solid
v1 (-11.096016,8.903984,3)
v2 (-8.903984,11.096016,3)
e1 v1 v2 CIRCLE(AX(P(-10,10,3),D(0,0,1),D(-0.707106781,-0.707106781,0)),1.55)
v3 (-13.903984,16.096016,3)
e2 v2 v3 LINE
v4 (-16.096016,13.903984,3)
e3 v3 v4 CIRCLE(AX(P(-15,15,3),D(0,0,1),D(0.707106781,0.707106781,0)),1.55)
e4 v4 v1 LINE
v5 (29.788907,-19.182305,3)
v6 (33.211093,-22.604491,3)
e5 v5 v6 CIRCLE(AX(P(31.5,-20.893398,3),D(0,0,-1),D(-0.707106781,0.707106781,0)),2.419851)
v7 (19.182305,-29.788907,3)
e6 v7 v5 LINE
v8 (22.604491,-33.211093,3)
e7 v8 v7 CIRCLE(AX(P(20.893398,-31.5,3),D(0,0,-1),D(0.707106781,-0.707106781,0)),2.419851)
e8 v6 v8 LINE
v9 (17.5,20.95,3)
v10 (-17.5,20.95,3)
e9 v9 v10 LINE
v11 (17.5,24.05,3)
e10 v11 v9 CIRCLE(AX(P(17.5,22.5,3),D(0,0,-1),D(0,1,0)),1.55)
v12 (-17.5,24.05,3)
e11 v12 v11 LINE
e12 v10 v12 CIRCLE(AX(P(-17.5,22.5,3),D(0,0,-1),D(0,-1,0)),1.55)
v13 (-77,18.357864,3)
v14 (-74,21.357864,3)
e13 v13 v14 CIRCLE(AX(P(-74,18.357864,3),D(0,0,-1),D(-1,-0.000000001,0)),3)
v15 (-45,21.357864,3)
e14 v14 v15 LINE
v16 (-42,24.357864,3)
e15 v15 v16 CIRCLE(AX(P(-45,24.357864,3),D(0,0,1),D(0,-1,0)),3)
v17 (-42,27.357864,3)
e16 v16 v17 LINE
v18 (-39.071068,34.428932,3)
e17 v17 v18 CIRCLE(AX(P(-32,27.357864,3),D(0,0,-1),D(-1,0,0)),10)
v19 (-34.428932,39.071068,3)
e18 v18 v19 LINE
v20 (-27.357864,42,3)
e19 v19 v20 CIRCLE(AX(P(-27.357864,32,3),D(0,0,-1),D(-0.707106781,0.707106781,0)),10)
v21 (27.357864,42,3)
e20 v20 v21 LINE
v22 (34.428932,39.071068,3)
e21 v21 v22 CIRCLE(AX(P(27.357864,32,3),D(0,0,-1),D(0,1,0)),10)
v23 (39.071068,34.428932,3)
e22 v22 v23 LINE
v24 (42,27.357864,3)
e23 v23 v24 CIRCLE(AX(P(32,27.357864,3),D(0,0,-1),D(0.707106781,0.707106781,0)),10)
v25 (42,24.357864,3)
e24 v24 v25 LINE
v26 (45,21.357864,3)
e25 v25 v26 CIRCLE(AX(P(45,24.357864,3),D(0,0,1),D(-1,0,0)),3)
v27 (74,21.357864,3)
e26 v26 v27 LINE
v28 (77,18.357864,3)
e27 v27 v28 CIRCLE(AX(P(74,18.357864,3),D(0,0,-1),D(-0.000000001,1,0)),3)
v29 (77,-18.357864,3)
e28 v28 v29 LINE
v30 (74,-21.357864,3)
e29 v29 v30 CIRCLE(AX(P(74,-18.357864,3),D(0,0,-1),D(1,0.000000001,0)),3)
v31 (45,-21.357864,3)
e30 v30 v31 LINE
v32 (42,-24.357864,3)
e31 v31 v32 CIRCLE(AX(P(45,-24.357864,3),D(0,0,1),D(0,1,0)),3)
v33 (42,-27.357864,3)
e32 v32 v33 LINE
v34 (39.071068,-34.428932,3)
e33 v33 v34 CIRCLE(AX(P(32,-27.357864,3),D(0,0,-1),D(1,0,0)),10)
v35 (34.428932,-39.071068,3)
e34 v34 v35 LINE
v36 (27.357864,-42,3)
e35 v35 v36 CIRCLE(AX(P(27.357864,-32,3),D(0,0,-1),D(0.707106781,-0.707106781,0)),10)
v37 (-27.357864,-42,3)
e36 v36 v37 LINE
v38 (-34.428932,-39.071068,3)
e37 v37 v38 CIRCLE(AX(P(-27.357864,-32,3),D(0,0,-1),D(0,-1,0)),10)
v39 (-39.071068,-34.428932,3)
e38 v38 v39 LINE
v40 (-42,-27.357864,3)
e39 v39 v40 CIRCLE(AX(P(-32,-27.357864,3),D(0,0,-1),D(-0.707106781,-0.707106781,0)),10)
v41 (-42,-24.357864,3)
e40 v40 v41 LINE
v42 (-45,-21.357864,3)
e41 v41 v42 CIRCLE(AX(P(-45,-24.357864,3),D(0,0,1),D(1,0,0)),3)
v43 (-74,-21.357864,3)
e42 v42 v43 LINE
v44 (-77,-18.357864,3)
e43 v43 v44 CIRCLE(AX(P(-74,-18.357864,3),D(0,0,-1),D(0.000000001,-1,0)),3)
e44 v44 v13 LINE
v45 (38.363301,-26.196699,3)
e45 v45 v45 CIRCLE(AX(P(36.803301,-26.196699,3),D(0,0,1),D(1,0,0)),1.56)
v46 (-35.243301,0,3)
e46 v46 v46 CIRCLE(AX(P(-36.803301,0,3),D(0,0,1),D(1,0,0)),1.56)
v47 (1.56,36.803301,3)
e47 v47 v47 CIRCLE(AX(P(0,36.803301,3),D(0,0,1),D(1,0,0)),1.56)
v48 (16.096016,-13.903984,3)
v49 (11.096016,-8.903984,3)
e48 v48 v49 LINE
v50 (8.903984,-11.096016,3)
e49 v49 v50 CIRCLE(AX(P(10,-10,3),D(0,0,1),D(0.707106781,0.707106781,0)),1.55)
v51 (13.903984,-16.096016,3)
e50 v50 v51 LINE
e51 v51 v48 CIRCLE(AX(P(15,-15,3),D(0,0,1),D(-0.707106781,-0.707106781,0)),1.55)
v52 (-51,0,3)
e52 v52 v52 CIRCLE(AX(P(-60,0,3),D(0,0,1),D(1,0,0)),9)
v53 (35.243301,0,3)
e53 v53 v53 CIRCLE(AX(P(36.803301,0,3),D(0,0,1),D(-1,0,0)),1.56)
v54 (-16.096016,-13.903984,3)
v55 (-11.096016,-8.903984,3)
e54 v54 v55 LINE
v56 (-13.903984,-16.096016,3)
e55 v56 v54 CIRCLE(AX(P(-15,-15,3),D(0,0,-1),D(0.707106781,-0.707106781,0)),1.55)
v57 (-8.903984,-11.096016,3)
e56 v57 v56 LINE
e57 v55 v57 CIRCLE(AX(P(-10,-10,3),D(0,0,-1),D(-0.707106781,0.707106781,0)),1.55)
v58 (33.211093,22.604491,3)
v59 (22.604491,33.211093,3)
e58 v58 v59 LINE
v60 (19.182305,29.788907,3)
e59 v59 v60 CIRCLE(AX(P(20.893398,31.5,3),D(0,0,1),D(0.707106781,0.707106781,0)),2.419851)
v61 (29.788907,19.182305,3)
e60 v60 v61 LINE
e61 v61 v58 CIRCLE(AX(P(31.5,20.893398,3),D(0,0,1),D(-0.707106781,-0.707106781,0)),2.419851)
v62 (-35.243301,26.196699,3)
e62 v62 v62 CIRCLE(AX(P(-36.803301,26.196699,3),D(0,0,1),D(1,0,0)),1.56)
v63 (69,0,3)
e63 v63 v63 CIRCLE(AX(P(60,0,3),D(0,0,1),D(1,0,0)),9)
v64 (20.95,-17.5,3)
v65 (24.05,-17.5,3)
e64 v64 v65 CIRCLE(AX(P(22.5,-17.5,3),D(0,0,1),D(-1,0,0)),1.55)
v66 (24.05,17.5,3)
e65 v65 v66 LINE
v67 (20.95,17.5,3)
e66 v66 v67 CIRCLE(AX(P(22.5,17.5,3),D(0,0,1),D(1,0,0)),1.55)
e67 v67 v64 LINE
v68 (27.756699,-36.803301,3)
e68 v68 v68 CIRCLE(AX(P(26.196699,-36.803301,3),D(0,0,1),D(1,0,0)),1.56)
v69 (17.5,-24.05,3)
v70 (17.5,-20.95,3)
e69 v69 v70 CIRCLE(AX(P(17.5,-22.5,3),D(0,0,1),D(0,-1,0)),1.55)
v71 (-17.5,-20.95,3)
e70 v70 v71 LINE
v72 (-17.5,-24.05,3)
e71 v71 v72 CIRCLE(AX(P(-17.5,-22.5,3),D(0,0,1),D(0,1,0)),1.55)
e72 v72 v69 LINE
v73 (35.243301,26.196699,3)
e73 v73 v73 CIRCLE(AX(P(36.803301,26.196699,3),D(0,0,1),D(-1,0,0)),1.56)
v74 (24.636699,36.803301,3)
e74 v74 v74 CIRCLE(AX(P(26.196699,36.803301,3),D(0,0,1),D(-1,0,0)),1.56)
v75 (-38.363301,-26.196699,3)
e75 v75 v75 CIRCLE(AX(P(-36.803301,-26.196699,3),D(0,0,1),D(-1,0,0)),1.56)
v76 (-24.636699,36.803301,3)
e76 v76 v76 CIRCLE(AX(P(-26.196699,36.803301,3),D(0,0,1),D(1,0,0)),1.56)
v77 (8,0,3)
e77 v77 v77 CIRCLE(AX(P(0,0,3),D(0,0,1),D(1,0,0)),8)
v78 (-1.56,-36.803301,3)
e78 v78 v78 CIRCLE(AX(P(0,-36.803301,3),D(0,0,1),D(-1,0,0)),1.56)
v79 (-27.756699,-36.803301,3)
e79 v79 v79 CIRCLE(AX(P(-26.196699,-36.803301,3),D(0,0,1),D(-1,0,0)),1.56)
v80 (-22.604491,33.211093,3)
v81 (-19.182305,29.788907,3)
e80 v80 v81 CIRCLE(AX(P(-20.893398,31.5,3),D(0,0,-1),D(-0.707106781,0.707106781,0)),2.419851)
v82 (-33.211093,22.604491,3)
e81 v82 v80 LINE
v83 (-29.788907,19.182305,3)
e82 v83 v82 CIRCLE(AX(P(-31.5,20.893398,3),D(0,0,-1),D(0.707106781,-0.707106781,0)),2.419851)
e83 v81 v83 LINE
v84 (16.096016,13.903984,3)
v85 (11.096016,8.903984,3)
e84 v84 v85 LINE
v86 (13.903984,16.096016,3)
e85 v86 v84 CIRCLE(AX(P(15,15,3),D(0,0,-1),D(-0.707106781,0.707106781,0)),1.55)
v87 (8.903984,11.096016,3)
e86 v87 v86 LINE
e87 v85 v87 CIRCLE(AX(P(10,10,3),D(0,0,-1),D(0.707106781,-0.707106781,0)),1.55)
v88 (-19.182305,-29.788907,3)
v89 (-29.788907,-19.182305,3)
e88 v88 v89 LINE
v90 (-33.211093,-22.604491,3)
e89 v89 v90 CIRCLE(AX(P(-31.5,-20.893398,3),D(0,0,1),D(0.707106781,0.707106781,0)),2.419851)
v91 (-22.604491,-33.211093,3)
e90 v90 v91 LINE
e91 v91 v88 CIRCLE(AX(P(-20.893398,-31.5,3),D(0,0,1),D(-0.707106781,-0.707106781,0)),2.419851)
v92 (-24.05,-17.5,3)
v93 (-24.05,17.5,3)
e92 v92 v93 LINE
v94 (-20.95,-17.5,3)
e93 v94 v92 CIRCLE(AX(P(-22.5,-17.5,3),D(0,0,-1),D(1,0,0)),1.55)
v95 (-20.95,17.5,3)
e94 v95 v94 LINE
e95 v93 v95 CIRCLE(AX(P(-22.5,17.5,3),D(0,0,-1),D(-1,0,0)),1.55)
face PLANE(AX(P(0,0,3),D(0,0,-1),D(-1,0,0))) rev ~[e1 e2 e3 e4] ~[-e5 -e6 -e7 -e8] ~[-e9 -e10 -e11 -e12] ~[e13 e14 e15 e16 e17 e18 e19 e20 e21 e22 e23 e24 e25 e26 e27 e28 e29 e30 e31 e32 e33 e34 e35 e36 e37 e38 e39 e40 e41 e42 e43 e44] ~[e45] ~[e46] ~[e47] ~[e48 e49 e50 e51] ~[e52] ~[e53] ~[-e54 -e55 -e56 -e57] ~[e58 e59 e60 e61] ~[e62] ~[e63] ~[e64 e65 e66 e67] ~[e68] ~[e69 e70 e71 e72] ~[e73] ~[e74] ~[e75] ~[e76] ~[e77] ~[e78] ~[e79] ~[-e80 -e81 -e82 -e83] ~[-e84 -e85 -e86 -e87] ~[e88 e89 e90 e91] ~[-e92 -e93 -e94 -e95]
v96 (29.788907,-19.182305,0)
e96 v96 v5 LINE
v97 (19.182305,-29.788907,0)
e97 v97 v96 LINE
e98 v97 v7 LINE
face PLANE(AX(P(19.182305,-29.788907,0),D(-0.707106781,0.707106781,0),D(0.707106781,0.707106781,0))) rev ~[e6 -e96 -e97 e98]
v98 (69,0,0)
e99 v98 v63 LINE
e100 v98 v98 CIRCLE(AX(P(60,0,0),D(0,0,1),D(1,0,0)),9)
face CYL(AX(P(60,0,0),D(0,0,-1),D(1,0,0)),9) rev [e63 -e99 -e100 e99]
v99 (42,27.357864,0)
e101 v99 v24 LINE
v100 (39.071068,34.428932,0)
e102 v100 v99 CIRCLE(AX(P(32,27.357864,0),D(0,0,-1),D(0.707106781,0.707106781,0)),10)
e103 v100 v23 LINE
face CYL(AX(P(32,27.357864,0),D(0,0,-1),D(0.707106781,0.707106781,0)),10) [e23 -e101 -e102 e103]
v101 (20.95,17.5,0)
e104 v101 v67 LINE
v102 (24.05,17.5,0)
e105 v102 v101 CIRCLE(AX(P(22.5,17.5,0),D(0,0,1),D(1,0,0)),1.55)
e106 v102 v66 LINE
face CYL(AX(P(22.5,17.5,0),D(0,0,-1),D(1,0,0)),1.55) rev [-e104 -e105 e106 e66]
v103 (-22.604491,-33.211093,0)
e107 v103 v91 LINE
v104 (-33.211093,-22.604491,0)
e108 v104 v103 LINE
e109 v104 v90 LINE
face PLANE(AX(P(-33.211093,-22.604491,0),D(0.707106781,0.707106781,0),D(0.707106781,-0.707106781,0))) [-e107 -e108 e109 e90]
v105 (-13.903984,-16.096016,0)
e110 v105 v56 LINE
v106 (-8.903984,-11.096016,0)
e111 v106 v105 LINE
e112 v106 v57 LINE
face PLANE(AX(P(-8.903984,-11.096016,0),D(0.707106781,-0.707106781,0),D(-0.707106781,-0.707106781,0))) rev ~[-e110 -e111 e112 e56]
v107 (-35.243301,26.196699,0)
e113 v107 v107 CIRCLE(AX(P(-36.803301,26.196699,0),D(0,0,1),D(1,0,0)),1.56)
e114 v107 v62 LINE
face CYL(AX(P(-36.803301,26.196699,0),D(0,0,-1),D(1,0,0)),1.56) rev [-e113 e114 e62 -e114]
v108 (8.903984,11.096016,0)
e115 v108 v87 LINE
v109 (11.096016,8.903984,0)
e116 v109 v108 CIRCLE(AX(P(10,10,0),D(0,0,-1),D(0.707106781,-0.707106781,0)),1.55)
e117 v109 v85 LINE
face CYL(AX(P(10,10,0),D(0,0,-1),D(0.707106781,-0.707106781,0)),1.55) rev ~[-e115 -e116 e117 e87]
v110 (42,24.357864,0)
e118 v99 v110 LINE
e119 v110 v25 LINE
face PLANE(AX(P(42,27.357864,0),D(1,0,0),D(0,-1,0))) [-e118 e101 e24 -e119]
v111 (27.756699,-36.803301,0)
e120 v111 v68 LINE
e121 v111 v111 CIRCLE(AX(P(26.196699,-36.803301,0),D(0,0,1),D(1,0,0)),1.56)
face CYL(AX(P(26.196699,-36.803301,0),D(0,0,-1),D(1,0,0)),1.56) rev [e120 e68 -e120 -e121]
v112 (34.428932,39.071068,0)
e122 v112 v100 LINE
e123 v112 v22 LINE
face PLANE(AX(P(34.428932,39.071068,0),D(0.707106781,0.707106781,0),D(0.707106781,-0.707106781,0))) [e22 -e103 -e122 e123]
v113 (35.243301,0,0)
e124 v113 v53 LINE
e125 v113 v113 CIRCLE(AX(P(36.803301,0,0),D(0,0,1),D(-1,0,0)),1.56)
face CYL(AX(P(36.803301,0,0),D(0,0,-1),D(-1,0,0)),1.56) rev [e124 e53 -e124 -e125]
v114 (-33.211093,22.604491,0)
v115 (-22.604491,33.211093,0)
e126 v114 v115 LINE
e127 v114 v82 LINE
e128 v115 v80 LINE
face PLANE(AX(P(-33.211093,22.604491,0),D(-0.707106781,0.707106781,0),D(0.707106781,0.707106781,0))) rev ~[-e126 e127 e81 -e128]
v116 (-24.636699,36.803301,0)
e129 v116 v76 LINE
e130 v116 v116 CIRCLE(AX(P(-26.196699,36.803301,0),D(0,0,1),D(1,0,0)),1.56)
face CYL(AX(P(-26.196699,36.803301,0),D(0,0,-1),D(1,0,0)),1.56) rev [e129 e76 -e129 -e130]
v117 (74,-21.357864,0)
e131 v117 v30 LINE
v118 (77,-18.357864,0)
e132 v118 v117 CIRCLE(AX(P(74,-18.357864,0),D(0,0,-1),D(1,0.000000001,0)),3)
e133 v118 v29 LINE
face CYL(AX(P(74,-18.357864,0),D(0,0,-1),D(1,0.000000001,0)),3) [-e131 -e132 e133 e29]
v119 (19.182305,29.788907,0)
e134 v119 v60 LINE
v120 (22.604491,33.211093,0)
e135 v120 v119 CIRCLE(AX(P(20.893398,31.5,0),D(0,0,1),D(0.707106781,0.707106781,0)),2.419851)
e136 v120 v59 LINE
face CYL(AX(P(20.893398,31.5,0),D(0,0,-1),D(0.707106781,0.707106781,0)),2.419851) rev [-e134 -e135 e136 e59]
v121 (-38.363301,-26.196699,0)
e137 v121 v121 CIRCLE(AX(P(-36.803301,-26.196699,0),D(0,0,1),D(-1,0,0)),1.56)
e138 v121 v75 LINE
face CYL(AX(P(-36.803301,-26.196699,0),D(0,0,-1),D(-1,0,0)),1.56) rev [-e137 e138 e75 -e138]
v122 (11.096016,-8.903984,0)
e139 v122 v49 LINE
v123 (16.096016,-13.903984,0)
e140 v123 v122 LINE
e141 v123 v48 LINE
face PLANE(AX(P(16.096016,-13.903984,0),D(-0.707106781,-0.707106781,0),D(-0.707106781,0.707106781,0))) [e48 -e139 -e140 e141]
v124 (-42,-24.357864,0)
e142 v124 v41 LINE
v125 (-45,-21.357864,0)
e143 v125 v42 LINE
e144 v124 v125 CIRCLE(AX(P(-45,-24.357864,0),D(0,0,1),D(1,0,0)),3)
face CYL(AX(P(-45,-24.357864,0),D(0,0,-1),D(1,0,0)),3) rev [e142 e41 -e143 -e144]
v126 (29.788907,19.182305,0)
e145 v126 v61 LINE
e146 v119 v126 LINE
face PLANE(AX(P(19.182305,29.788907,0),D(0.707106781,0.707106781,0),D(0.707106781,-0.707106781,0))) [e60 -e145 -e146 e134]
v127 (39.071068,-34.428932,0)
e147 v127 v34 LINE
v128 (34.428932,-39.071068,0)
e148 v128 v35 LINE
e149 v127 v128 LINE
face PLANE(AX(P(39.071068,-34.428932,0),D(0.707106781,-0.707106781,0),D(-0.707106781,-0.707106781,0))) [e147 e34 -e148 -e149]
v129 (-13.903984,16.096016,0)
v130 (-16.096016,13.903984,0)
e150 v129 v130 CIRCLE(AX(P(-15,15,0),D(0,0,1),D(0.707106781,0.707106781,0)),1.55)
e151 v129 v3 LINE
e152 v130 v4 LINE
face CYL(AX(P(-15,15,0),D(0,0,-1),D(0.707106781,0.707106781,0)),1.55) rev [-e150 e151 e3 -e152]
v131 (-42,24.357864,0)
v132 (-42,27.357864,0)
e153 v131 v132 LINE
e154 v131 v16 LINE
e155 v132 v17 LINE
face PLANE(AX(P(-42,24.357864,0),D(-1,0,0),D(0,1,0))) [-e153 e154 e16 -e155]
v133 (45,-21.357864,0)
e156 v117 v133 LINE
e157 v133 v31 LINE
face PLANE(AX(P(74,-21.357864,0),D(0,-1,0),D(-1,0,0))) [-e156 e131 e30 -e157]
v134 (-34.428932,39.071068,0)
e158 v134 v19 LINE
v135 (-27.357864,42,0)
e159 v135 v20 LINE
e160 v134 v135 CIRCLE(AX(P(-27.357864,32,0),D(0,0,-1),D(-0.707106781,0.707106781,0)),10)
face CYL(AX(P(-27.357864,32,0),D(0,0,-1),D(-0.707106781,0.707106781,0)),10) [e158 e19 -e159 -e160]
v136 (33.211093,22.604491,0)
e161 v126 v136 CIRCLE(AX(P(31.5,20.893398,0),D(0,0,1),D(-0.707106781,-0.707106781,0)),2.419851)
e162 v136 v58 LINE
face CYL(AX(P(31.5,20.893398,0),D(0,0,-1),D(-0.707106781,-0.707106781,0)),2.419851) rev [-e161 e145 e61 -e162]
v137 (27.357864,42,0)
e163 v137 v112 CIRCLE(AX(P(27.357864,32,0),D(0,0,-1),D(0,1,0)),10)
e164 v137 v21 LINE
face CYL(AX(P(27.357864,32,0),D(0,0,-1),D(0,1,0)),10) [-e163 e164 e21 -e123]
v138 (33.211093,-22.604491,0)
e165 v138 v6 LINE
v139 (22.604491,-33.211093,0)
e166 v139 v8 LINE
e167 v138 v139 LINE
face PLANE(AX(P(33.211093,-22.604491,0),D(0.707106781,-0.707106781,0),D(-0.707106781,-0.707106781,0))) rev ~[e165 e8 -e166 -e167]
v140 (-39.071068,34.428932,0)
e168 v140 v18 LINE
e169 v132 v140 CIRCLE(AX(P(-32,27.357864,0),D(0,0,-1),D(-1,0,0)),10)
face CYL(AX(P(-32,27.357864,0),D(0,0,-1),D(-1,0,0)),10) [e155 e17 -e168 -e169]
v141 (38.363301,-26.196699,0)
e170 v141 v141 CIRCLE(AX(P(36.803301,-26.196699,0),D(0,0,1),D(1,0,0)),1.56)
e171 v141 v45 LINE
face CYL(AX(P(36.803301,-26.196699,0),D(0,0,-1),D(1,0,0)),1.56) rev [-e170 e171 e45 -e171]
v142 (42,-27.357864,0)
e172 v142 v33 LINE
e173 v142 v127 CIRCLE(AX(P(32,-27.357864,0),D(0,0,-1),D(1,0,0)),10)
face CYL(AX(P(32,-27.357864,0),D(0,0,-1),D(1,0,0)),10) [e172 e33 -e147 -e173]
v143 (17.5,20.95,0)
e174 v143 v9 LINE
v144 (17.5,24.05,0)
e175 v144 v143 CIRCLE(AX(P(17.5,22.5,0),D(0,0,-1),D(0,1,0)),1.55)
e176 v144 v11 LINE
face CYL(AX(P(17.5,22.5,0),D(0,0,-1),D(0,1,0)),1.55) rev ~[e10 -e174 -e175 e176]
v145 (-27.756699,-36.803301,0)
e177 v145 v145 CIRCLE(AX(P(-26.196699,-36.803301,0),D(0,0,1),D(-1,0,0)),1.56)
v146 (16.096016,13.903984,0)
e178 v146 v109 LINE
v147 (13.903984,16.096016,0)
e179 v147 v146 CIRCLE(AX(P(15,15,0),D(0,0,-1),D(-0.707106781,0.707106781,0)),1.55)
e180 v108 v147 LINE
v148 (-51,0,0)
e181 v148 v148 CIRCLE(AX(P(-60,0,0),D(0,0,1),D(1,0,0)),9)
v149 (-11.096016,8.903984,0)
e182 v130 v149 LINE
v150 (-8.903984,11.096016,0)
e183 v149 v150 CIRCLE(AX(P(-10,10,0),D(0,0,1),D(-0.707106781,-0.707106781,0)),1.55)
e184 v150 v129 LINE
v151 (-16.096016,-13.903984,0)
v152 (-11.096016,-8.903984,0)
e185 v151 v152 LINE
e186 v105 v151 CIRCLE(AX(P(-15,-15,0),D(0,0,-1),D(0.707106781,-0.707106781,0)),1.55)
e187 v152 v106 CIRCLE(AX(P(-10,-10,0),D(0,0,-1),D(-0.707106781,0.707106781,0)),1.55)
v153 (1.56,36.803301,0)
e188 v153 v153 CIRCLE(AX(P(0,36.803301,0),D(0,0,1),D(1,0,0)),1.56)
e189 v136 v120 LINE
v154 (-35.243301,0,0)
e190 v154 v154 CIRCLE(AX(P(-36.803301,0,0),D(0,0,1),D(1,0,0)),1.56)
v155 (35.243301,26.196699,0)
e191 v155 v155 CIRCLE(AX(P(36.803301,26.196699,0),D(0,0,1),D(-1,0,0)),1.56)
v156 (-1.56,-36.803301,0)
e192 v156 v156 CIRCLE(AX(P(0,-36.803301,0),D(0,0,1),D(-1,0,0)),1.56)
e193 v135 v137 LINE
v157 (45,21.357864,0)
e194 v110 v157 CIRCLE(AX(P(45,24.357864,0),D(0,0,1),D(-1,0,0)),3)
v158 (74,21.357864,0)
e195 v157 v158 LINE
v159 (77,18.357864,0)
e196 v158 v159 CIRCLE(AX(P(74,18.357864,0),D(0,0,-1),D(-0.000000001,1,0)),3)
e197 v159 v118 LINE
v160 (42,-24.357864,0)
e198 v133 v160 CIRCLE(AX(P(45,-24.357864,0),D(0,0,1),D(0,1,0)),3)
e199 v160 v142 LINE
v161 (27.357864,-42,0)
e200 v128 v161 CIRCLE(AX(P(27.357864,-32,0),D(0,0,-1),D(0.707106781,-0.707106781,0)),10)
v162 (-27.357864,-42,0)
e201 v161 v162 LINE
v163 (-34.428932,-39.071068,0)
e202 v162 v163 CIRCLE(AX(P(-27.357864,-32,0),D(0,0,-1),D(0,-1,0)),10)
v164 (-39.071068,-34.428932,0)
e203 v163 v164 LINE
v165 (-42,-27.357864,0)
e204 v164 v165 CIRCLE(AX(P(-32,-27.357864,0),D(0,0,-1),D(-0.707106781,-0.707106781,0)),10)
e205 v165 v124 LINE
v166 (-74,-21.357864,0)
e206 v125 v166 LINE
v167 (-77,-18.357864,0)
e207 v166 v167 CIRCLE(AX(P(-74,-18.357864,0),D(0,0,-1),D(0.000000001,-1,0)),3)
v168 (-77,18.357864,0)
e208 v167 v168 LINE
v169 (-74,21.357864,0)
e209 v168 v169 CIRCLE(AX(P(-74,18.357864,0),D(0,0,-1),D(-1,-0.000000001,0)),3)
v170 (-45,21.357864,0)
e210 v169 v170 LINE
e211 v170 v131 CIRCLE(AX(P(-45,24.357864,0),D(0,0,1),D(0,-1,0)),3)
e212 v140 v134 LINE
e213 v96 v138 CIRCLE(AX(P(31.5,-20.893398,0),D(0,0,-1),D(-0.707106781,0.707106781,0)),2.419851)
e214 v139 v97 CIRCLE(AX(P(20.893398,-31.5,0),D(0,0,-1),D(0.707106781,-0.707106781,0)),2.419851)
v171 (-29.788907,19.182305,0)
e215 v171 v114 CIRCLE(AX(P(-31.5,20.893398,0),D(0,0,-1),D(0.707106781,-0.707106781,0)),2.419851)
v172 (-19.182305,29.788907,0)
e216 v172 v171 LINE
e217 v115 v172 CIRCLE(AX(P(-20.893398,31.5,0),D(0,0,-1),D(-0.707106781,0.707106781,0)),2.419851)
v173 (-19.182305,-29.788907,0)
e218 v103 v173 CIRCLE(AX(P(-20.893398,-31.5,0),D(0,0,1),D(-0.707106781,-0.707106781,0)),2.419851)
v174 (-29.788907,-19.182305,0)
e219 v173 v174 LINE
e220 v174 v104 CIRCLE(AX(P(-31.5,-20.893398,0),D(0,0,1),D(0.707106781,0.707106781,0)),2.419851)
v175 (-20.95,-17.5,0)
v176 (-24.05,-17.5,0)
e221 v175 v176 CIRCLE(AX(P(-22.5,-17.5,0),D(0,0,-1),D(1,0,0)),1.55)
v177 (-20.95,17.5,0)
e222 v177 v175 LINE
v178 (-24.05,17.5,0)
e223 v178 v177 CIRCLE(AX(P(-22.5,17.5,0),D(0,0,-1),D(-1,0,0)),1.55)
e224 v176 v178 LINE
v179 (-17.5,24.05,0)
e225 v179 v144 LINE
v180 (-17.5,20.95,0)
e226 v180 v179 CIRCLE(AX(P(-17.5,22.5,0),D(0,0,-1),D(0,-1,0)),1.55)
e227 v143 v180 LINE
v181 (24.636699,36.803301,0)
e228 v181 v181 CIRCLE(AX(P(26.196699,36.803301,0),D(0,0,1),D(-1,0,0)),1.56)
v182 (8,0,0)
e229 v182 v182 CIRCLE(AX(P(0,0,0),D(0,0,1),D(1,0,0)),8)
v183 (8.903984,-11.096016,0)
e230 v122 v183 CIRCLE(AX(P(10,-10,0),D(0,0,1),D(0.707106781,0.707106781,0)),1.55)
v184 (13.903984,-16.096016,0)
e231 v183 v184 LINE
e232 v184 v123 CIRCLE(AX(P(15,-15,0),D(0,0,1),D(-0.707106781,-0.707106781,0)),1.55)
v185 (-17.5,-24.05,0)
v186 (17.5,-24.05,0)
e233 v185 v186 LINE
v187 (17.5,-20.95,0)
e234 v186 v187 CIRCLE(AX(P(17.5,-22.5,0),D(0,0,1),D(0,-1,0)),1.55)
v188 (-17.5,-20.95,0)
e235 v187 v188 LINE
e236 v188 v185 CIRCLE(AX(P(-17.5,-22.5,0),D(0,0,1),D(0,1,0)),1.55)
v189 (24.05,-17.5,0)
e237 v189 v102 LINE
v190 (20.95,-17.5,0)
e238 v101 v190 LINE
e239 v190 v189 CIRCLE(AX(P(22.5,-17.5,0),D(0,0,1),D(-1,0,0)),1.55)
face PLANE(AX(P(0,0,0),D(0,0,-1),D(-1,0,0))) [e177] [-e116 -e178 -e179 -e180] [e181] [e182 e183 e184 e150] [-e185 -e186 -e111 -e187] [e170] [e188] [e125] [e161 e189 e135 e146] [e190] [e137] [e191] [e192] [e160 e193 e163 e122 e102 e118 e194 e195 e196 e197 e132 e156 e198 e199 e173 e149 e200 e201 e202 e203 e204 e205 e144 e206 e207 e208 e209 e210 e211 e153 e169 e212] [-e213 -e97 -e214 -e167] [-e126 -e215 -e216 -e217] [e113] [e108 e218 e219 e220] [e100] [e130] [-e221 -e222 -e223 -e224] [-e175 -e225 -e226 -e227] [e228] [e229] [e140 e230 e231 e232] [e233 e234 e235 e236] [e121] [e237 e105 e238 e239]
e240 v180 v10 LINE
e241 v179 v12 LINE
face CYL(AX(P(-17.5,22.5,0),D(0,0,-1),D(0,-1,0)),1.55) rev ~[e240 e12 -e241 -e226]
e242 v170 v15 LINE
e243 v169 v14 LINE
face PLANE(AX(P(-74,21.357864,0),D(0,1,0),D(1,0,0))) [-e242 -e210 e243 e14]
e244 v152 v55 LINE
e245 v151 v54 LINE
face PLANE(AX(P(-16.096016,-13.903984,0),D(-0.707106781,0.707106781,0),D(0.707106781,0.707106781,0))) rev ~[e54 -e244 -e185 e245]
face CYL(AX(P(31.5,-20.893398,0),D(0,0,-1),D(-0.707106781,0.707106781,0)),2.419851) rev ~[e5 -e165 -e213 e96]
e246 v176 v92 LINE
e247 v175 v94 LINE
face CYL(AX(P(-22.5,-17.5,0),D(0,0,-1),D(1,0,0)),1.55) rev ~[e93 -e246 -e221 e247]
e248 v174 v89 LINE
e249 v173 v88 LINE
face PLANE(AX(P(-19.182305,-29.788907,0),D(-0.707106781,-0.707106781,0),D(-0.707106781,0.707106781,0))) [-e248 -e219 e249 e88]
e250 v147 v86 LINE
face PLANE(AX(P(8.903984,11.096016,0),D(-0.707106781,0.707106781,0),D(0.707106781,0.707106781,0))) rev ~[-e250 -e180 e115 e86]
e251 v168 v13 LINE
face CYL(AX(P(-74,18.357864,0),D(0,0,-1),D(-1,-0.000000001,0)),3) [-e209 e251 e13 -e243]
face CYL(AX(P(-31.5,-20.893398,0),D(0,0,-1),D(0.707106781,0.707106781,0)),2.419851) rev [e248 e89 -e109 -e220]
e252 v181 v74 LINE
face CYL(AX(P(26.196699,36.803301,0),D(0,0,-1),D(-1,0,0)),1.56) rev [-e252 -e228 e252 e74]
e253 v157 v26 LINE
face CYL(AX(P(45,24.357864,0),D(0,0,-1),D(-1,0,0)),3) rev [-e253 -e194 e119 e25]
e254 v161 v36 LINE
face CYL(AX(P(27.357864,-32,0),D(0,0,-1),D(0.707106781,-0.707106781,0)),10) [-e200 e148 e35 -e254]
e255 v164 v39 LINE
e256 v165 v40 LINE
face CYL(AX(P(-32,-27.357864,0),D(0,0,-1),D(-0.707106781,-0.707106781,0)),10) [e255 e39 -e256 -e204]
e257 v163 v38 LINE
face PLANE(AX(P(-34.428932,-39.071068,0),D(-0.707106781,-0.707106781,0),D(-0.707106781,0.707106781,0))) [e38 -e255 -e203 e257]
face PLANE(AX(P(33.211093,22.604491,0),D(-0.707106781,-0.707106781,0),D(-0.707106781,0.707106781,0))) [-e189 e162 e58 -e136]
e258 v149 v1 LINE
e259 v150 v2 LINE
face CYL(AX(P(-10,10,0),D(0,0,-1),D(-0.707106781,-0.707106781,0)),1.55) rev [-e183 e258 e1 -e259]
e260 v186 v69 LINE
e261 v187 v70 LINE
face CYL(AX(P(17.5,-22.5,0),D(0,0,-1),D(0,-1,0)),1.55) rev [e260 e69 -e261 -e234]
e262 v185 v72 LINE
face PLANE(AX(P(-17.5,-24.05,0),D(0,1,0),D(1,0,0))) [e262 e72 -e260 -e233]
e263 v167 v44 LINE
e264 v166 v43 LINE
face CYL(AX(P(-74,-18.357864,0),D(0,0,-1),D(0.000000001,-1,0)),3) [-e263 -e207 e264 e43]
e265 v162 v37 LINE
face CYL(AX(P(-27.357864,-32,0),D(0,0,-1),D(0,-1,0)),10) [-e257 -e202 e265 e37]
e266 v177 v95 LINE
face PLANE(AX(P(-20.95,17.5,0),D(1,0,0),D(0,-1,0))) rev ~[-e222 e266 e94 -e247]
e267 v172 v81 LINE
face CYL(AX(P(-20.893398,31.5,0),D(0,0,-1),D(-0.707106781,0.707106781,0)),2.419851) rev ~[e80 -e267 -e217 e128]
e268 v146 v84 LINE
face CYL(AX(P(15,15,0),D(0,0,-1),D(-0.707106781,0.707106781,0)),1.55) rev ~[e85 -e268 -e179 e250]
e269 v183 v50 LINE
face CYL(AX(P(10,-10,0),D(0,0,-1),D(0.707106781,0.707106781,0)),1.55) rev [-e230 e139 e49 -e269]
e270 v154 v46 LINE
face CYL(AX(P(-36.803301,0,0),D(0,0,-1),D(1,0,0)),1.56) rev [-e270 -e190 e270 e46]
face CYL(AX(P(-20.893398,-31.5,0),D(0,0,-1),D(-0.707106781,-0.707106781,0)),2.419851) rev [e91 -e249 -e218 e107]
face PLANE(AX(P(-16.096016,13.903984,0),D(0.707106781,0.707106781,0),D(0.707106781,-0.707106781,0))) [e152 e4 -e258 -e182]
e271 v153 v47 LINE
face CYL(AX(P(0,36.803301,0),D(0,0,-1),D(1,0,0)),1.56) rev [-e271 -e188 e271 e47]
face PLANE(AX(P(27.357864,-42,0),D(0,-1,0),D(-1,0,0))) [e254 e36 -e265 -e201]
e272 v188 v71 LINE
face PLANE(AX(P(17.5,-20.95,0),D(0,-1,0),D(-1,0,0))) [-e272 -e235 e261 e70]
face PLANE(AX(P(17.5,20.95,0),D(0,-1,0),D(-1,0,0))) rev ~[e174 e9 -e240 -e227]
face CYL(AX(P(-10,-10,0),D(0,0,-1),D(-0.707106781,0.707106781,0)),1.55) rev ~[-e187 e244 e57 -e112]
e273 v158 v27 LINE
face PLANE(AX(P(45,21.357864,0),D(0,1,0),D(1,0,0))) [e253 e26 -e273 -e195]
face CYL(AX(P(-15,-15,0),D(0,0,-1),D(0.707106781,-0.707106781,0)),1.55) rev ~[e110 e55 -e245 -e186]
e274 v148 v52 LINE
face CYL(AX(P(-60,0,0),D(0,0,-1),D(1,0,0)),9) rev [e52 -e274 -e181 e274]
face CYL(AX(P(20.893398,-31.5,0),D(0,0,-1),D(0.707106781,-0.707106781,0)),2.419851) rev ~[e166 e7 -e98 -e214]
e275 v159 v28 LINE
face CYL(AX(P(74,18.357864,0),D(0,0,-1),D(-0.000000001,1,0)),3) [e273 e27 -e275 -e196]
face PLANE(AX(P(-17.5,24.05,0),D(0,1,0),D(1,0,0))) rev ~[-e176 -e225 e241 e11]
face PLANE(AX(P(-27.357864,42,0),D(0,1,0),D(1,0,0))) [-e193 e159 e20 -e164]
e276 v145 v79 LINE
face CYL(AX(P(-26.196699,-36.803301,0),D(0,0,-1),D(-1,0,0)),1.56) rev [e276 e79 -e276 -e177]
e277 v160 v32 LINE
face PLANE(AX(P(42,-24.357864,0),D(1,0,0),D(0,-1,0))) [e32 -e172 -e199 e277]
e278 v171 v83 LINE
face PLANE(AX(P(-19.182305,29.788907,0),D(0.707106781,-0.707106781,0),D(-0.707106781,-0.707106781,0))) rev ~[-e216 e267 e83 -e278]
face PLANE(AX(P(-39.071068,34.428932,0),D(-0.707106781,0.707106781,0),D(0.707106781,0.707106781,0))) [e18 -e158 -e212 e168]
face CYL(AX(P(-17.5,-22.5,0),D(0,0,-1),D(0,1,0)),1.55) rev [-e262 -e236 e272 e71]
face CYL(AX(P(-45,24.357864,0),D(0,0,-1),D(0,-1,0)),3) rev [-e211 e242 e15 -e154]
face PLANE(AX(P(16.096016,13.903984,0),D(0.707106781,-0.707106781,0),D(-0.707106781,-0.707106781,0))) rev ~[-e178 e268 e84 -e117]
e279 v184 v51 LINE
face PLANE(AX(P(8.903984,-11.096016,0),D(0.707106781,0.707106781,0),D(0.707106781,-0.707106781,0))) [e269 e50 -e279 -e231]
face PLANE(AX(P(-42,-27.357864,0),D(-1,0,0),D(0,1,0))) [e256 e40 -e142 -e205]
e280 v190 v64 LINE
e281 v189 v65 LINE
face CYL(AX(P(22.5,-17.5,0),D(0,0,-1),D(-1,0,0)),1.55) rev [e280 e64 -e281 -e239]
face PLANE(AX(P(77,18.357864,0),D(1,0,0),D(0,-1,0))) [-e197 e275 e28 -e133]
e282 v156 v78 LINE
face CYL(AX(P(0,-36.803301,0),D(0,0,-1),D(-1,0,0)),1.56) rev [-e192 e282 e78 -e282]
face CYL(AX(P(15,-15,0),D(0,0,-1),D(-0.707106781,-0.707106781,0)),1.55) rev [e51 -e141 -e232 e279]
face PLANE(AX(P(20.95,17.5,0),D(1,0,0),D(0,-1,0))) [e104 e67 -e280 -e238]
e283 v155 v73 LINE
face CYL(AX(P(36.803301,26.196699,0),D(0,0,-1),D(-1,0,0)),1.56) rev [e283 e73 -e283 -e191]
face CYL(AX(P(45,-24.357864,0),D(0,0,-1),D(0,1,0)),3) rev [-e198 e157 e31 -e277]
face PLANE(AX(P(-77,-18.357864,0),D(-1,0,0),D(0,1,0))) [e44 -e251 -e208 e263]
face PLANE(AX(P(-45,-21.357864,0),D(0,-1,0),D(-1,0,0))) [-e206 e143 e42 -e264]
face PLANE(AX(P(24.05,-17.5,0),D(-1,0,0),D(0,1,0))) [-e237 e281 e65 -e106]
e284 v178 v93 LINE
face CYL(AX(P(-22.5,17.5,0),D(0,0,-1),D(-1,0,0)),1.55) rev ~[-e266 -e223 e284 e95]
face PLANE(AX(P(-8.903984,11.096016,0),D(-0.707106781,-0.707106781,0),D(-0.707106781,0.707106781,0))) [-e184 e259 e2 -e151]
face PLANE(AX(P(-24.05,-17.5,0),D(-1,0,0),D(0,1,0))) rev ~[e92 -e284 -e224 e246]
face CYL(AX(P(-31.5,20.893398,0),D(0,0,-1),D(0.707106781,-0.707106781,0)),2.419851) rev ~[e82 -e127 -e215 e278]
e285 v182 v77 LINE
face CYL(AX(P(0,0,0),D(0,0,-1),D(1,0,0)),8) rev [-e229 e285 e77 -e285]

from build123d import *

# Parameters (mm, degrees)
SKETCH_1_R      = 8
SKETCH_1_R_2    = 1.56
SKETCH_1_R_3    = 9
EXTRUDE_1_DEPTH = 3


with BuildPart() as part:
    # 草图1 → 凸台-拉伸1 (new body)
    with BuildSketch(Plane.XY):
        with BuildLine():
            Line((-27.357864376, 42), (27.357864376, 42))
            ThreePointArc((27.357864376, 42), (31.1846987, 41.238795325), (34.428932188, 39.071067812))
            Line((34.428932188, 39.071067812), (39.071067812, 34.428932188))
            ThreePointArc((39.071067812, 34.428932188), (41.238795325, 31.1846987), (42, 27.357864376))
            Line((42, 27.357864376), (42, 24.357864376))
            ThreePointArc((42, 24.357864376), (42.878679656, 22.236544033), (45, 21.357864376))
            Line((45, 21.357864376), (74, 21.357864376))
            ThreePointArc((74, 21.357864376), (76.121320344, 20.47918472), (77, 18.357864376))
            Line((77, 18.357864376), (77, -18.357864376))
            ThreePointArc((77, -18.357864376), (76.121320344, -20.47918472), (74, -21.357864376))
            Line((74, -21.357864376), (45, -21.357864376))
            ThreePointArc((45, -21.357864376), (42.878679656, -22.236544033), (42, -24.357864376))
            Line((42, -24.357864376), (42, -27.357864376))
            ThreePointArc((42, -27.357864376), (41.238795325, -31.1846987), (39.071067812, -34.428932188))
            Line((39.071067812, -34.428932188), (34.428932188, -39.071067812))
            ThreePointArc((34.428932188, -39.071067812), (31.1846987, -41.238795325), (27.357864376, -42))
            Line((27.357864376, -42), (-27.357864376, -42))
            ThreePointArc((-27.357864376, -42), (-31.1846987, -41.238795325), (-34.428932188, -39.071067812))
            Line((-34.428932188, -39.071067812), (-39.071067812, -34.428932188))
            ThreePointArc((-39.071067812, -34.428932188), (-41.238795325, -31.1846987), (-42, -27.357864376))
            Line((-42, -27.357864376), (-42, -24.357864376))
            ThreePointArc((-42, -24.357864376), (-42.878679656, -22.236544033), (-45, -21.357864376))
            Line((-45, -21.357864376), (-74, -21.357864376))
            ThreePointArc((-74, -21.357864376), (-76.121320344, -20.47918472), (-77, -18.357864376))
            Line((-77, -18.357864376), (-77, 18.357864376))
            ThreePointArc((-77, 18.357864376), (-76.121320344, 20.47918472), (-74, 21.357864376))
            Line((-74, 21.357864376), (-45, 21.357864376))
            ThreePointArc((-45, 21.357864376), (-42.878679656, 22.236544033), (-42, 24.357864376))
            Line((-42, 24.357864376), (-42, 27.357864376))
            ThreePointArc((-42, 27.357864376), (-41.238795325, 31.1846987), (-39.071067812, 34.428932188))
            Line((-39.071067812, 34.428932188), (-34.428932188, 39.071067812))
            ThreePointArc((-34.428932188, 39.071067812), (-31.1846987, 41.238795325), (-27.357864376, 42))
        make_face()
        Circle(SKETCH_1_R, mode=Mode.SUBTRACT)
        with Locations((-26.196699141, 36.803300859)):
            Circle(SKETCH_1_R_2, mode=Mode.SUBTRACT)
        with Locations((-36.803300859, 26.196699141)):
            Circle(SKETCH_1_R_2, mode=Mode.SUBTRACT)
        with Locations(Location((26.196699141, 36.803300859, 0), (0, 0, 180))):
            Circle(SKETCH_1_R_2, mode=Mode.SUBTRACT)
        with Locations(Location((36.803300859, 26.196699141, 0), (0, 0, 180))):
            Circle(SKETCH_1_R_2, mode=Mode.SUBTRACT)
        with Locations((36.803300859, -26.196699141)):
            Circle(SKETCH_1_R_2, mode=Mode.SUBTRACT)
        with Locations((26.196699141, -36.803300859)):
            Circle(SKETCH_1_R_2, mode=Mode.SUBTRACT)
        with Locations(Location((-26.196699141, -36.803300859, 0), (0, 0, 180))):
            Circle(SKETCH_1_R_2, mode=Mode.SUBTRACT)
        with Locations(Location((-36.803300859, -26.196699141, 0), (0, 0, 180))):
            Circle(SKETCH_1_R_2, mode=Mode.SUBTRACT)
        with Locations((0, 36.803300859)):
            Circle(SKETCH_1_R_2, mode=Mode.SUBTRACT)
        with Locations(Location((36.803300859, 0, 0), (0, 0, 180))):
            Circle(SKETCH_1_R_2, mode=Mode.SUBTRACT)
        with Locations(Location((0, -36.803300859, 0), (0, 0, 180))):
            Circle(SKETCH_1_R_2, mode=Mode.SUBTRACT)
        with Locations((-36.803300859, 0)):
            Circle(SKETCH_1_R_2, mode=Mode.SUBTRACT)
        with Locations((-60, 0)):
            Circle(SKETCH_1_R_3, mode=Mode.SUBTRACT)
        with Locations((60, 0)):
            Circle(SKETCH_1_R_3, mode=Mode.SUBTRACT)
        with BuildLine():
            Line((-17.5, 24.05), (17.5, 24.05))
            ThreePointArc((17.5, 24.05), (19.05, 22.5), (17.5, 20.95))
            Line((17.5, 20.95), (-17.5, 20.95))
            ThreePointArc((-17.5, 20.95), (-19.05, 22.5), (-17.5, 24.05))
        make_face(mode=Mode.SUBTRACT)
        with BuildLine():
            Line((-17.5, -24.05), (17.5, -24.05))
            ThreePointArc((17.5, -24.05), (19.05, -22.5), (17.5, -20.95))
            Line((17.5, -20.95), (-17.5, -20.95))
            ThreePointArc((-17.5, -20.95), (-19.05, -22.5), (-17.5, -24.05))
        make_face(mode=Mode.SUBTRACT)
        with BuildLine():
            Line((24.05, -17.5), (24.05, 17.5))
            ThreePointArc((24.05, 17.5), (22.5, 19.05), (20.95, 17.5))
            Line((20.95, 17.5), (20.95, -17.5))
            ThreePointArc((20.95, -17.5), (22.5, -19.05), (24.05, -17.5))
        make_face(mode=Mode.SUBTRACT)
        with BuildLine():
            Line((-24.05, -17.5), (-24.05, 17.5))
            ThreePointArc((-24.05, 17.5), (-22.5, 19.05), (-20.95, 17.5))
            Line((-20.95, 17.5), (-20.95, -17.5))
            ThreePointArc((-20.95, -17.5), (-22.5, -19.05), (-24.05, -17.5))
        make_face(mode=Mode.SUBTRACT)
        with BuildLine():
            Line((8.903984489, 11.096015511), (13.903984489, 16.096015511))
            ThreePointArc((13.903984489, 16.096015511), (16.096015511, 16.096015511), (16.096015511, 13.903984489))
            Line((16.096015511, 13.903984489), (11.096015511, 8.903984489))
            ThreePointArc((11.096015511, 8.903984489), (8.903984489, 8.903984489), (8.903984489, 11.096015511))
        make_face(mode=Mode.SUBTRACT)
        with BuildLine():
            Line((-8.903984489, 11.096015511), (-13.903984489, 16.096015511))
            ThreePointArc((-13.903984489, 16.096015511), (-16.096015511, 16.096015511), (-16.096015511, 13.903984489))
            Line((-16.096015511, 13.903984489), (-11.096015511, 8.903984489))
            ThreePointArc((-11.096015511, 8.903984489), (-8.903984489, 8.903984489), (-8.903984489, 11.096015511))
        make_face(mode=Mode.SUBTRACT)
        with BuildLine():
            Line((-8.903984489, -11.096015511), (-13.903984489, -16.096015511))
            ThreePointArc((-13.903984489, -16.096015511), (-16.096015511, -16.096015511), (-16.096015511, -13.903984489))
            Line((-16.096015511, -13.903984489), (-11.096015511, -8.903984489))
            ThreePointArc((-11.096015511, -8.903984489), (-8.903984489, -8.903984489), (-8.903984489, -11.096015511))
        make_face(mode=Mode.SUBTRACT)
        with BuildLine():
            Line((8.903984489, -11.096015511), (13.903984489, -16.096015511))
            ThreePointArc((13.903984489, -16.096015511), (16.096015511, -16.096015511), (16.096015511, -13.903984489))
            Line((16.096015511, -13.903984489), (11.096015511, -8.903984489))
            ThreePointArc((11.096015511, -8.903984489), (8.903984489, -8.903984489), (8.903984489, -11.096015511))
        make_face(mode=Mode.SUBTRACT)
        with BuildLine():
            Line((-33.211093213, 22.604491495), (-22.604491495, 33.211093213))
            ThreePointArc((-22.604491495, 33.211093213), (-19.18230507, 33.211093213), (-19.18230507, 29.788906787))
            Line((-19.18230507, 29.788906787), (-29.788906787, 19.18230507))
            ThreePointArc((-29.788906787, 19.18230507), (-33.211093213, 19.18230507), (-33.211093213, 22.604491495))
        make_face(mode=Mode.SUBTRACT)
        with BuildLine():
            Line((33.211093213, 22.604491495), (22.604491495, 33.211093213))
            ThreePointArc((22.604491495, 33.211093213), (19.18230507, 33.211093213), (19.18230507, 29.788906787))
            Line((19.18230507, 29.788906787), (29.788906787, 19.18230507))
            ThreePointArc((29.788906787, 19.18230507), (33.211093213, 19.18230507), (33.211093213, 22.604491495))
        make_face(mode=Mode.SUBTRACT)
        with BuildLine():
            Line((-33.211093213, -22.604491495), (-22.604491495, -33.211093213))
            ThreePointArc((-22.604491495, -33.211093213), (-19.18230507, -33.211093213), (-19.18230507, -29.788906787))
            Line((-19.18230507, -29.788906787), (-29.788906787, -19.18230507))
            ThreePointArc((-29.788906787, -19.18230507), (-33.211093213, -19.18230507), (-33.211093213, -22.604491495))
        make_face(mode=Mode.SUBTRACT)
        with BuildLine():
            Line((33.211093213, -22.604491495), (22.604491495, -33.211093213))
            ThreePointArc((22.604491495, -33.211093213), (19.18230507, -33.211093213), (19.18230507, -29.788906787))
            Line((19.18230507, -29.788906787), (29.788906787, -19.18230507))
            ThreePointArc((29.788906787, -19.18230507), (33.211093213, -19.18230507), (33.211093213, -22.604491495))
        make_face(mode=Mode.SUBTRACT)
    extrude(amount=EXTRUDE_1_DEPTH)


solid = part.part
